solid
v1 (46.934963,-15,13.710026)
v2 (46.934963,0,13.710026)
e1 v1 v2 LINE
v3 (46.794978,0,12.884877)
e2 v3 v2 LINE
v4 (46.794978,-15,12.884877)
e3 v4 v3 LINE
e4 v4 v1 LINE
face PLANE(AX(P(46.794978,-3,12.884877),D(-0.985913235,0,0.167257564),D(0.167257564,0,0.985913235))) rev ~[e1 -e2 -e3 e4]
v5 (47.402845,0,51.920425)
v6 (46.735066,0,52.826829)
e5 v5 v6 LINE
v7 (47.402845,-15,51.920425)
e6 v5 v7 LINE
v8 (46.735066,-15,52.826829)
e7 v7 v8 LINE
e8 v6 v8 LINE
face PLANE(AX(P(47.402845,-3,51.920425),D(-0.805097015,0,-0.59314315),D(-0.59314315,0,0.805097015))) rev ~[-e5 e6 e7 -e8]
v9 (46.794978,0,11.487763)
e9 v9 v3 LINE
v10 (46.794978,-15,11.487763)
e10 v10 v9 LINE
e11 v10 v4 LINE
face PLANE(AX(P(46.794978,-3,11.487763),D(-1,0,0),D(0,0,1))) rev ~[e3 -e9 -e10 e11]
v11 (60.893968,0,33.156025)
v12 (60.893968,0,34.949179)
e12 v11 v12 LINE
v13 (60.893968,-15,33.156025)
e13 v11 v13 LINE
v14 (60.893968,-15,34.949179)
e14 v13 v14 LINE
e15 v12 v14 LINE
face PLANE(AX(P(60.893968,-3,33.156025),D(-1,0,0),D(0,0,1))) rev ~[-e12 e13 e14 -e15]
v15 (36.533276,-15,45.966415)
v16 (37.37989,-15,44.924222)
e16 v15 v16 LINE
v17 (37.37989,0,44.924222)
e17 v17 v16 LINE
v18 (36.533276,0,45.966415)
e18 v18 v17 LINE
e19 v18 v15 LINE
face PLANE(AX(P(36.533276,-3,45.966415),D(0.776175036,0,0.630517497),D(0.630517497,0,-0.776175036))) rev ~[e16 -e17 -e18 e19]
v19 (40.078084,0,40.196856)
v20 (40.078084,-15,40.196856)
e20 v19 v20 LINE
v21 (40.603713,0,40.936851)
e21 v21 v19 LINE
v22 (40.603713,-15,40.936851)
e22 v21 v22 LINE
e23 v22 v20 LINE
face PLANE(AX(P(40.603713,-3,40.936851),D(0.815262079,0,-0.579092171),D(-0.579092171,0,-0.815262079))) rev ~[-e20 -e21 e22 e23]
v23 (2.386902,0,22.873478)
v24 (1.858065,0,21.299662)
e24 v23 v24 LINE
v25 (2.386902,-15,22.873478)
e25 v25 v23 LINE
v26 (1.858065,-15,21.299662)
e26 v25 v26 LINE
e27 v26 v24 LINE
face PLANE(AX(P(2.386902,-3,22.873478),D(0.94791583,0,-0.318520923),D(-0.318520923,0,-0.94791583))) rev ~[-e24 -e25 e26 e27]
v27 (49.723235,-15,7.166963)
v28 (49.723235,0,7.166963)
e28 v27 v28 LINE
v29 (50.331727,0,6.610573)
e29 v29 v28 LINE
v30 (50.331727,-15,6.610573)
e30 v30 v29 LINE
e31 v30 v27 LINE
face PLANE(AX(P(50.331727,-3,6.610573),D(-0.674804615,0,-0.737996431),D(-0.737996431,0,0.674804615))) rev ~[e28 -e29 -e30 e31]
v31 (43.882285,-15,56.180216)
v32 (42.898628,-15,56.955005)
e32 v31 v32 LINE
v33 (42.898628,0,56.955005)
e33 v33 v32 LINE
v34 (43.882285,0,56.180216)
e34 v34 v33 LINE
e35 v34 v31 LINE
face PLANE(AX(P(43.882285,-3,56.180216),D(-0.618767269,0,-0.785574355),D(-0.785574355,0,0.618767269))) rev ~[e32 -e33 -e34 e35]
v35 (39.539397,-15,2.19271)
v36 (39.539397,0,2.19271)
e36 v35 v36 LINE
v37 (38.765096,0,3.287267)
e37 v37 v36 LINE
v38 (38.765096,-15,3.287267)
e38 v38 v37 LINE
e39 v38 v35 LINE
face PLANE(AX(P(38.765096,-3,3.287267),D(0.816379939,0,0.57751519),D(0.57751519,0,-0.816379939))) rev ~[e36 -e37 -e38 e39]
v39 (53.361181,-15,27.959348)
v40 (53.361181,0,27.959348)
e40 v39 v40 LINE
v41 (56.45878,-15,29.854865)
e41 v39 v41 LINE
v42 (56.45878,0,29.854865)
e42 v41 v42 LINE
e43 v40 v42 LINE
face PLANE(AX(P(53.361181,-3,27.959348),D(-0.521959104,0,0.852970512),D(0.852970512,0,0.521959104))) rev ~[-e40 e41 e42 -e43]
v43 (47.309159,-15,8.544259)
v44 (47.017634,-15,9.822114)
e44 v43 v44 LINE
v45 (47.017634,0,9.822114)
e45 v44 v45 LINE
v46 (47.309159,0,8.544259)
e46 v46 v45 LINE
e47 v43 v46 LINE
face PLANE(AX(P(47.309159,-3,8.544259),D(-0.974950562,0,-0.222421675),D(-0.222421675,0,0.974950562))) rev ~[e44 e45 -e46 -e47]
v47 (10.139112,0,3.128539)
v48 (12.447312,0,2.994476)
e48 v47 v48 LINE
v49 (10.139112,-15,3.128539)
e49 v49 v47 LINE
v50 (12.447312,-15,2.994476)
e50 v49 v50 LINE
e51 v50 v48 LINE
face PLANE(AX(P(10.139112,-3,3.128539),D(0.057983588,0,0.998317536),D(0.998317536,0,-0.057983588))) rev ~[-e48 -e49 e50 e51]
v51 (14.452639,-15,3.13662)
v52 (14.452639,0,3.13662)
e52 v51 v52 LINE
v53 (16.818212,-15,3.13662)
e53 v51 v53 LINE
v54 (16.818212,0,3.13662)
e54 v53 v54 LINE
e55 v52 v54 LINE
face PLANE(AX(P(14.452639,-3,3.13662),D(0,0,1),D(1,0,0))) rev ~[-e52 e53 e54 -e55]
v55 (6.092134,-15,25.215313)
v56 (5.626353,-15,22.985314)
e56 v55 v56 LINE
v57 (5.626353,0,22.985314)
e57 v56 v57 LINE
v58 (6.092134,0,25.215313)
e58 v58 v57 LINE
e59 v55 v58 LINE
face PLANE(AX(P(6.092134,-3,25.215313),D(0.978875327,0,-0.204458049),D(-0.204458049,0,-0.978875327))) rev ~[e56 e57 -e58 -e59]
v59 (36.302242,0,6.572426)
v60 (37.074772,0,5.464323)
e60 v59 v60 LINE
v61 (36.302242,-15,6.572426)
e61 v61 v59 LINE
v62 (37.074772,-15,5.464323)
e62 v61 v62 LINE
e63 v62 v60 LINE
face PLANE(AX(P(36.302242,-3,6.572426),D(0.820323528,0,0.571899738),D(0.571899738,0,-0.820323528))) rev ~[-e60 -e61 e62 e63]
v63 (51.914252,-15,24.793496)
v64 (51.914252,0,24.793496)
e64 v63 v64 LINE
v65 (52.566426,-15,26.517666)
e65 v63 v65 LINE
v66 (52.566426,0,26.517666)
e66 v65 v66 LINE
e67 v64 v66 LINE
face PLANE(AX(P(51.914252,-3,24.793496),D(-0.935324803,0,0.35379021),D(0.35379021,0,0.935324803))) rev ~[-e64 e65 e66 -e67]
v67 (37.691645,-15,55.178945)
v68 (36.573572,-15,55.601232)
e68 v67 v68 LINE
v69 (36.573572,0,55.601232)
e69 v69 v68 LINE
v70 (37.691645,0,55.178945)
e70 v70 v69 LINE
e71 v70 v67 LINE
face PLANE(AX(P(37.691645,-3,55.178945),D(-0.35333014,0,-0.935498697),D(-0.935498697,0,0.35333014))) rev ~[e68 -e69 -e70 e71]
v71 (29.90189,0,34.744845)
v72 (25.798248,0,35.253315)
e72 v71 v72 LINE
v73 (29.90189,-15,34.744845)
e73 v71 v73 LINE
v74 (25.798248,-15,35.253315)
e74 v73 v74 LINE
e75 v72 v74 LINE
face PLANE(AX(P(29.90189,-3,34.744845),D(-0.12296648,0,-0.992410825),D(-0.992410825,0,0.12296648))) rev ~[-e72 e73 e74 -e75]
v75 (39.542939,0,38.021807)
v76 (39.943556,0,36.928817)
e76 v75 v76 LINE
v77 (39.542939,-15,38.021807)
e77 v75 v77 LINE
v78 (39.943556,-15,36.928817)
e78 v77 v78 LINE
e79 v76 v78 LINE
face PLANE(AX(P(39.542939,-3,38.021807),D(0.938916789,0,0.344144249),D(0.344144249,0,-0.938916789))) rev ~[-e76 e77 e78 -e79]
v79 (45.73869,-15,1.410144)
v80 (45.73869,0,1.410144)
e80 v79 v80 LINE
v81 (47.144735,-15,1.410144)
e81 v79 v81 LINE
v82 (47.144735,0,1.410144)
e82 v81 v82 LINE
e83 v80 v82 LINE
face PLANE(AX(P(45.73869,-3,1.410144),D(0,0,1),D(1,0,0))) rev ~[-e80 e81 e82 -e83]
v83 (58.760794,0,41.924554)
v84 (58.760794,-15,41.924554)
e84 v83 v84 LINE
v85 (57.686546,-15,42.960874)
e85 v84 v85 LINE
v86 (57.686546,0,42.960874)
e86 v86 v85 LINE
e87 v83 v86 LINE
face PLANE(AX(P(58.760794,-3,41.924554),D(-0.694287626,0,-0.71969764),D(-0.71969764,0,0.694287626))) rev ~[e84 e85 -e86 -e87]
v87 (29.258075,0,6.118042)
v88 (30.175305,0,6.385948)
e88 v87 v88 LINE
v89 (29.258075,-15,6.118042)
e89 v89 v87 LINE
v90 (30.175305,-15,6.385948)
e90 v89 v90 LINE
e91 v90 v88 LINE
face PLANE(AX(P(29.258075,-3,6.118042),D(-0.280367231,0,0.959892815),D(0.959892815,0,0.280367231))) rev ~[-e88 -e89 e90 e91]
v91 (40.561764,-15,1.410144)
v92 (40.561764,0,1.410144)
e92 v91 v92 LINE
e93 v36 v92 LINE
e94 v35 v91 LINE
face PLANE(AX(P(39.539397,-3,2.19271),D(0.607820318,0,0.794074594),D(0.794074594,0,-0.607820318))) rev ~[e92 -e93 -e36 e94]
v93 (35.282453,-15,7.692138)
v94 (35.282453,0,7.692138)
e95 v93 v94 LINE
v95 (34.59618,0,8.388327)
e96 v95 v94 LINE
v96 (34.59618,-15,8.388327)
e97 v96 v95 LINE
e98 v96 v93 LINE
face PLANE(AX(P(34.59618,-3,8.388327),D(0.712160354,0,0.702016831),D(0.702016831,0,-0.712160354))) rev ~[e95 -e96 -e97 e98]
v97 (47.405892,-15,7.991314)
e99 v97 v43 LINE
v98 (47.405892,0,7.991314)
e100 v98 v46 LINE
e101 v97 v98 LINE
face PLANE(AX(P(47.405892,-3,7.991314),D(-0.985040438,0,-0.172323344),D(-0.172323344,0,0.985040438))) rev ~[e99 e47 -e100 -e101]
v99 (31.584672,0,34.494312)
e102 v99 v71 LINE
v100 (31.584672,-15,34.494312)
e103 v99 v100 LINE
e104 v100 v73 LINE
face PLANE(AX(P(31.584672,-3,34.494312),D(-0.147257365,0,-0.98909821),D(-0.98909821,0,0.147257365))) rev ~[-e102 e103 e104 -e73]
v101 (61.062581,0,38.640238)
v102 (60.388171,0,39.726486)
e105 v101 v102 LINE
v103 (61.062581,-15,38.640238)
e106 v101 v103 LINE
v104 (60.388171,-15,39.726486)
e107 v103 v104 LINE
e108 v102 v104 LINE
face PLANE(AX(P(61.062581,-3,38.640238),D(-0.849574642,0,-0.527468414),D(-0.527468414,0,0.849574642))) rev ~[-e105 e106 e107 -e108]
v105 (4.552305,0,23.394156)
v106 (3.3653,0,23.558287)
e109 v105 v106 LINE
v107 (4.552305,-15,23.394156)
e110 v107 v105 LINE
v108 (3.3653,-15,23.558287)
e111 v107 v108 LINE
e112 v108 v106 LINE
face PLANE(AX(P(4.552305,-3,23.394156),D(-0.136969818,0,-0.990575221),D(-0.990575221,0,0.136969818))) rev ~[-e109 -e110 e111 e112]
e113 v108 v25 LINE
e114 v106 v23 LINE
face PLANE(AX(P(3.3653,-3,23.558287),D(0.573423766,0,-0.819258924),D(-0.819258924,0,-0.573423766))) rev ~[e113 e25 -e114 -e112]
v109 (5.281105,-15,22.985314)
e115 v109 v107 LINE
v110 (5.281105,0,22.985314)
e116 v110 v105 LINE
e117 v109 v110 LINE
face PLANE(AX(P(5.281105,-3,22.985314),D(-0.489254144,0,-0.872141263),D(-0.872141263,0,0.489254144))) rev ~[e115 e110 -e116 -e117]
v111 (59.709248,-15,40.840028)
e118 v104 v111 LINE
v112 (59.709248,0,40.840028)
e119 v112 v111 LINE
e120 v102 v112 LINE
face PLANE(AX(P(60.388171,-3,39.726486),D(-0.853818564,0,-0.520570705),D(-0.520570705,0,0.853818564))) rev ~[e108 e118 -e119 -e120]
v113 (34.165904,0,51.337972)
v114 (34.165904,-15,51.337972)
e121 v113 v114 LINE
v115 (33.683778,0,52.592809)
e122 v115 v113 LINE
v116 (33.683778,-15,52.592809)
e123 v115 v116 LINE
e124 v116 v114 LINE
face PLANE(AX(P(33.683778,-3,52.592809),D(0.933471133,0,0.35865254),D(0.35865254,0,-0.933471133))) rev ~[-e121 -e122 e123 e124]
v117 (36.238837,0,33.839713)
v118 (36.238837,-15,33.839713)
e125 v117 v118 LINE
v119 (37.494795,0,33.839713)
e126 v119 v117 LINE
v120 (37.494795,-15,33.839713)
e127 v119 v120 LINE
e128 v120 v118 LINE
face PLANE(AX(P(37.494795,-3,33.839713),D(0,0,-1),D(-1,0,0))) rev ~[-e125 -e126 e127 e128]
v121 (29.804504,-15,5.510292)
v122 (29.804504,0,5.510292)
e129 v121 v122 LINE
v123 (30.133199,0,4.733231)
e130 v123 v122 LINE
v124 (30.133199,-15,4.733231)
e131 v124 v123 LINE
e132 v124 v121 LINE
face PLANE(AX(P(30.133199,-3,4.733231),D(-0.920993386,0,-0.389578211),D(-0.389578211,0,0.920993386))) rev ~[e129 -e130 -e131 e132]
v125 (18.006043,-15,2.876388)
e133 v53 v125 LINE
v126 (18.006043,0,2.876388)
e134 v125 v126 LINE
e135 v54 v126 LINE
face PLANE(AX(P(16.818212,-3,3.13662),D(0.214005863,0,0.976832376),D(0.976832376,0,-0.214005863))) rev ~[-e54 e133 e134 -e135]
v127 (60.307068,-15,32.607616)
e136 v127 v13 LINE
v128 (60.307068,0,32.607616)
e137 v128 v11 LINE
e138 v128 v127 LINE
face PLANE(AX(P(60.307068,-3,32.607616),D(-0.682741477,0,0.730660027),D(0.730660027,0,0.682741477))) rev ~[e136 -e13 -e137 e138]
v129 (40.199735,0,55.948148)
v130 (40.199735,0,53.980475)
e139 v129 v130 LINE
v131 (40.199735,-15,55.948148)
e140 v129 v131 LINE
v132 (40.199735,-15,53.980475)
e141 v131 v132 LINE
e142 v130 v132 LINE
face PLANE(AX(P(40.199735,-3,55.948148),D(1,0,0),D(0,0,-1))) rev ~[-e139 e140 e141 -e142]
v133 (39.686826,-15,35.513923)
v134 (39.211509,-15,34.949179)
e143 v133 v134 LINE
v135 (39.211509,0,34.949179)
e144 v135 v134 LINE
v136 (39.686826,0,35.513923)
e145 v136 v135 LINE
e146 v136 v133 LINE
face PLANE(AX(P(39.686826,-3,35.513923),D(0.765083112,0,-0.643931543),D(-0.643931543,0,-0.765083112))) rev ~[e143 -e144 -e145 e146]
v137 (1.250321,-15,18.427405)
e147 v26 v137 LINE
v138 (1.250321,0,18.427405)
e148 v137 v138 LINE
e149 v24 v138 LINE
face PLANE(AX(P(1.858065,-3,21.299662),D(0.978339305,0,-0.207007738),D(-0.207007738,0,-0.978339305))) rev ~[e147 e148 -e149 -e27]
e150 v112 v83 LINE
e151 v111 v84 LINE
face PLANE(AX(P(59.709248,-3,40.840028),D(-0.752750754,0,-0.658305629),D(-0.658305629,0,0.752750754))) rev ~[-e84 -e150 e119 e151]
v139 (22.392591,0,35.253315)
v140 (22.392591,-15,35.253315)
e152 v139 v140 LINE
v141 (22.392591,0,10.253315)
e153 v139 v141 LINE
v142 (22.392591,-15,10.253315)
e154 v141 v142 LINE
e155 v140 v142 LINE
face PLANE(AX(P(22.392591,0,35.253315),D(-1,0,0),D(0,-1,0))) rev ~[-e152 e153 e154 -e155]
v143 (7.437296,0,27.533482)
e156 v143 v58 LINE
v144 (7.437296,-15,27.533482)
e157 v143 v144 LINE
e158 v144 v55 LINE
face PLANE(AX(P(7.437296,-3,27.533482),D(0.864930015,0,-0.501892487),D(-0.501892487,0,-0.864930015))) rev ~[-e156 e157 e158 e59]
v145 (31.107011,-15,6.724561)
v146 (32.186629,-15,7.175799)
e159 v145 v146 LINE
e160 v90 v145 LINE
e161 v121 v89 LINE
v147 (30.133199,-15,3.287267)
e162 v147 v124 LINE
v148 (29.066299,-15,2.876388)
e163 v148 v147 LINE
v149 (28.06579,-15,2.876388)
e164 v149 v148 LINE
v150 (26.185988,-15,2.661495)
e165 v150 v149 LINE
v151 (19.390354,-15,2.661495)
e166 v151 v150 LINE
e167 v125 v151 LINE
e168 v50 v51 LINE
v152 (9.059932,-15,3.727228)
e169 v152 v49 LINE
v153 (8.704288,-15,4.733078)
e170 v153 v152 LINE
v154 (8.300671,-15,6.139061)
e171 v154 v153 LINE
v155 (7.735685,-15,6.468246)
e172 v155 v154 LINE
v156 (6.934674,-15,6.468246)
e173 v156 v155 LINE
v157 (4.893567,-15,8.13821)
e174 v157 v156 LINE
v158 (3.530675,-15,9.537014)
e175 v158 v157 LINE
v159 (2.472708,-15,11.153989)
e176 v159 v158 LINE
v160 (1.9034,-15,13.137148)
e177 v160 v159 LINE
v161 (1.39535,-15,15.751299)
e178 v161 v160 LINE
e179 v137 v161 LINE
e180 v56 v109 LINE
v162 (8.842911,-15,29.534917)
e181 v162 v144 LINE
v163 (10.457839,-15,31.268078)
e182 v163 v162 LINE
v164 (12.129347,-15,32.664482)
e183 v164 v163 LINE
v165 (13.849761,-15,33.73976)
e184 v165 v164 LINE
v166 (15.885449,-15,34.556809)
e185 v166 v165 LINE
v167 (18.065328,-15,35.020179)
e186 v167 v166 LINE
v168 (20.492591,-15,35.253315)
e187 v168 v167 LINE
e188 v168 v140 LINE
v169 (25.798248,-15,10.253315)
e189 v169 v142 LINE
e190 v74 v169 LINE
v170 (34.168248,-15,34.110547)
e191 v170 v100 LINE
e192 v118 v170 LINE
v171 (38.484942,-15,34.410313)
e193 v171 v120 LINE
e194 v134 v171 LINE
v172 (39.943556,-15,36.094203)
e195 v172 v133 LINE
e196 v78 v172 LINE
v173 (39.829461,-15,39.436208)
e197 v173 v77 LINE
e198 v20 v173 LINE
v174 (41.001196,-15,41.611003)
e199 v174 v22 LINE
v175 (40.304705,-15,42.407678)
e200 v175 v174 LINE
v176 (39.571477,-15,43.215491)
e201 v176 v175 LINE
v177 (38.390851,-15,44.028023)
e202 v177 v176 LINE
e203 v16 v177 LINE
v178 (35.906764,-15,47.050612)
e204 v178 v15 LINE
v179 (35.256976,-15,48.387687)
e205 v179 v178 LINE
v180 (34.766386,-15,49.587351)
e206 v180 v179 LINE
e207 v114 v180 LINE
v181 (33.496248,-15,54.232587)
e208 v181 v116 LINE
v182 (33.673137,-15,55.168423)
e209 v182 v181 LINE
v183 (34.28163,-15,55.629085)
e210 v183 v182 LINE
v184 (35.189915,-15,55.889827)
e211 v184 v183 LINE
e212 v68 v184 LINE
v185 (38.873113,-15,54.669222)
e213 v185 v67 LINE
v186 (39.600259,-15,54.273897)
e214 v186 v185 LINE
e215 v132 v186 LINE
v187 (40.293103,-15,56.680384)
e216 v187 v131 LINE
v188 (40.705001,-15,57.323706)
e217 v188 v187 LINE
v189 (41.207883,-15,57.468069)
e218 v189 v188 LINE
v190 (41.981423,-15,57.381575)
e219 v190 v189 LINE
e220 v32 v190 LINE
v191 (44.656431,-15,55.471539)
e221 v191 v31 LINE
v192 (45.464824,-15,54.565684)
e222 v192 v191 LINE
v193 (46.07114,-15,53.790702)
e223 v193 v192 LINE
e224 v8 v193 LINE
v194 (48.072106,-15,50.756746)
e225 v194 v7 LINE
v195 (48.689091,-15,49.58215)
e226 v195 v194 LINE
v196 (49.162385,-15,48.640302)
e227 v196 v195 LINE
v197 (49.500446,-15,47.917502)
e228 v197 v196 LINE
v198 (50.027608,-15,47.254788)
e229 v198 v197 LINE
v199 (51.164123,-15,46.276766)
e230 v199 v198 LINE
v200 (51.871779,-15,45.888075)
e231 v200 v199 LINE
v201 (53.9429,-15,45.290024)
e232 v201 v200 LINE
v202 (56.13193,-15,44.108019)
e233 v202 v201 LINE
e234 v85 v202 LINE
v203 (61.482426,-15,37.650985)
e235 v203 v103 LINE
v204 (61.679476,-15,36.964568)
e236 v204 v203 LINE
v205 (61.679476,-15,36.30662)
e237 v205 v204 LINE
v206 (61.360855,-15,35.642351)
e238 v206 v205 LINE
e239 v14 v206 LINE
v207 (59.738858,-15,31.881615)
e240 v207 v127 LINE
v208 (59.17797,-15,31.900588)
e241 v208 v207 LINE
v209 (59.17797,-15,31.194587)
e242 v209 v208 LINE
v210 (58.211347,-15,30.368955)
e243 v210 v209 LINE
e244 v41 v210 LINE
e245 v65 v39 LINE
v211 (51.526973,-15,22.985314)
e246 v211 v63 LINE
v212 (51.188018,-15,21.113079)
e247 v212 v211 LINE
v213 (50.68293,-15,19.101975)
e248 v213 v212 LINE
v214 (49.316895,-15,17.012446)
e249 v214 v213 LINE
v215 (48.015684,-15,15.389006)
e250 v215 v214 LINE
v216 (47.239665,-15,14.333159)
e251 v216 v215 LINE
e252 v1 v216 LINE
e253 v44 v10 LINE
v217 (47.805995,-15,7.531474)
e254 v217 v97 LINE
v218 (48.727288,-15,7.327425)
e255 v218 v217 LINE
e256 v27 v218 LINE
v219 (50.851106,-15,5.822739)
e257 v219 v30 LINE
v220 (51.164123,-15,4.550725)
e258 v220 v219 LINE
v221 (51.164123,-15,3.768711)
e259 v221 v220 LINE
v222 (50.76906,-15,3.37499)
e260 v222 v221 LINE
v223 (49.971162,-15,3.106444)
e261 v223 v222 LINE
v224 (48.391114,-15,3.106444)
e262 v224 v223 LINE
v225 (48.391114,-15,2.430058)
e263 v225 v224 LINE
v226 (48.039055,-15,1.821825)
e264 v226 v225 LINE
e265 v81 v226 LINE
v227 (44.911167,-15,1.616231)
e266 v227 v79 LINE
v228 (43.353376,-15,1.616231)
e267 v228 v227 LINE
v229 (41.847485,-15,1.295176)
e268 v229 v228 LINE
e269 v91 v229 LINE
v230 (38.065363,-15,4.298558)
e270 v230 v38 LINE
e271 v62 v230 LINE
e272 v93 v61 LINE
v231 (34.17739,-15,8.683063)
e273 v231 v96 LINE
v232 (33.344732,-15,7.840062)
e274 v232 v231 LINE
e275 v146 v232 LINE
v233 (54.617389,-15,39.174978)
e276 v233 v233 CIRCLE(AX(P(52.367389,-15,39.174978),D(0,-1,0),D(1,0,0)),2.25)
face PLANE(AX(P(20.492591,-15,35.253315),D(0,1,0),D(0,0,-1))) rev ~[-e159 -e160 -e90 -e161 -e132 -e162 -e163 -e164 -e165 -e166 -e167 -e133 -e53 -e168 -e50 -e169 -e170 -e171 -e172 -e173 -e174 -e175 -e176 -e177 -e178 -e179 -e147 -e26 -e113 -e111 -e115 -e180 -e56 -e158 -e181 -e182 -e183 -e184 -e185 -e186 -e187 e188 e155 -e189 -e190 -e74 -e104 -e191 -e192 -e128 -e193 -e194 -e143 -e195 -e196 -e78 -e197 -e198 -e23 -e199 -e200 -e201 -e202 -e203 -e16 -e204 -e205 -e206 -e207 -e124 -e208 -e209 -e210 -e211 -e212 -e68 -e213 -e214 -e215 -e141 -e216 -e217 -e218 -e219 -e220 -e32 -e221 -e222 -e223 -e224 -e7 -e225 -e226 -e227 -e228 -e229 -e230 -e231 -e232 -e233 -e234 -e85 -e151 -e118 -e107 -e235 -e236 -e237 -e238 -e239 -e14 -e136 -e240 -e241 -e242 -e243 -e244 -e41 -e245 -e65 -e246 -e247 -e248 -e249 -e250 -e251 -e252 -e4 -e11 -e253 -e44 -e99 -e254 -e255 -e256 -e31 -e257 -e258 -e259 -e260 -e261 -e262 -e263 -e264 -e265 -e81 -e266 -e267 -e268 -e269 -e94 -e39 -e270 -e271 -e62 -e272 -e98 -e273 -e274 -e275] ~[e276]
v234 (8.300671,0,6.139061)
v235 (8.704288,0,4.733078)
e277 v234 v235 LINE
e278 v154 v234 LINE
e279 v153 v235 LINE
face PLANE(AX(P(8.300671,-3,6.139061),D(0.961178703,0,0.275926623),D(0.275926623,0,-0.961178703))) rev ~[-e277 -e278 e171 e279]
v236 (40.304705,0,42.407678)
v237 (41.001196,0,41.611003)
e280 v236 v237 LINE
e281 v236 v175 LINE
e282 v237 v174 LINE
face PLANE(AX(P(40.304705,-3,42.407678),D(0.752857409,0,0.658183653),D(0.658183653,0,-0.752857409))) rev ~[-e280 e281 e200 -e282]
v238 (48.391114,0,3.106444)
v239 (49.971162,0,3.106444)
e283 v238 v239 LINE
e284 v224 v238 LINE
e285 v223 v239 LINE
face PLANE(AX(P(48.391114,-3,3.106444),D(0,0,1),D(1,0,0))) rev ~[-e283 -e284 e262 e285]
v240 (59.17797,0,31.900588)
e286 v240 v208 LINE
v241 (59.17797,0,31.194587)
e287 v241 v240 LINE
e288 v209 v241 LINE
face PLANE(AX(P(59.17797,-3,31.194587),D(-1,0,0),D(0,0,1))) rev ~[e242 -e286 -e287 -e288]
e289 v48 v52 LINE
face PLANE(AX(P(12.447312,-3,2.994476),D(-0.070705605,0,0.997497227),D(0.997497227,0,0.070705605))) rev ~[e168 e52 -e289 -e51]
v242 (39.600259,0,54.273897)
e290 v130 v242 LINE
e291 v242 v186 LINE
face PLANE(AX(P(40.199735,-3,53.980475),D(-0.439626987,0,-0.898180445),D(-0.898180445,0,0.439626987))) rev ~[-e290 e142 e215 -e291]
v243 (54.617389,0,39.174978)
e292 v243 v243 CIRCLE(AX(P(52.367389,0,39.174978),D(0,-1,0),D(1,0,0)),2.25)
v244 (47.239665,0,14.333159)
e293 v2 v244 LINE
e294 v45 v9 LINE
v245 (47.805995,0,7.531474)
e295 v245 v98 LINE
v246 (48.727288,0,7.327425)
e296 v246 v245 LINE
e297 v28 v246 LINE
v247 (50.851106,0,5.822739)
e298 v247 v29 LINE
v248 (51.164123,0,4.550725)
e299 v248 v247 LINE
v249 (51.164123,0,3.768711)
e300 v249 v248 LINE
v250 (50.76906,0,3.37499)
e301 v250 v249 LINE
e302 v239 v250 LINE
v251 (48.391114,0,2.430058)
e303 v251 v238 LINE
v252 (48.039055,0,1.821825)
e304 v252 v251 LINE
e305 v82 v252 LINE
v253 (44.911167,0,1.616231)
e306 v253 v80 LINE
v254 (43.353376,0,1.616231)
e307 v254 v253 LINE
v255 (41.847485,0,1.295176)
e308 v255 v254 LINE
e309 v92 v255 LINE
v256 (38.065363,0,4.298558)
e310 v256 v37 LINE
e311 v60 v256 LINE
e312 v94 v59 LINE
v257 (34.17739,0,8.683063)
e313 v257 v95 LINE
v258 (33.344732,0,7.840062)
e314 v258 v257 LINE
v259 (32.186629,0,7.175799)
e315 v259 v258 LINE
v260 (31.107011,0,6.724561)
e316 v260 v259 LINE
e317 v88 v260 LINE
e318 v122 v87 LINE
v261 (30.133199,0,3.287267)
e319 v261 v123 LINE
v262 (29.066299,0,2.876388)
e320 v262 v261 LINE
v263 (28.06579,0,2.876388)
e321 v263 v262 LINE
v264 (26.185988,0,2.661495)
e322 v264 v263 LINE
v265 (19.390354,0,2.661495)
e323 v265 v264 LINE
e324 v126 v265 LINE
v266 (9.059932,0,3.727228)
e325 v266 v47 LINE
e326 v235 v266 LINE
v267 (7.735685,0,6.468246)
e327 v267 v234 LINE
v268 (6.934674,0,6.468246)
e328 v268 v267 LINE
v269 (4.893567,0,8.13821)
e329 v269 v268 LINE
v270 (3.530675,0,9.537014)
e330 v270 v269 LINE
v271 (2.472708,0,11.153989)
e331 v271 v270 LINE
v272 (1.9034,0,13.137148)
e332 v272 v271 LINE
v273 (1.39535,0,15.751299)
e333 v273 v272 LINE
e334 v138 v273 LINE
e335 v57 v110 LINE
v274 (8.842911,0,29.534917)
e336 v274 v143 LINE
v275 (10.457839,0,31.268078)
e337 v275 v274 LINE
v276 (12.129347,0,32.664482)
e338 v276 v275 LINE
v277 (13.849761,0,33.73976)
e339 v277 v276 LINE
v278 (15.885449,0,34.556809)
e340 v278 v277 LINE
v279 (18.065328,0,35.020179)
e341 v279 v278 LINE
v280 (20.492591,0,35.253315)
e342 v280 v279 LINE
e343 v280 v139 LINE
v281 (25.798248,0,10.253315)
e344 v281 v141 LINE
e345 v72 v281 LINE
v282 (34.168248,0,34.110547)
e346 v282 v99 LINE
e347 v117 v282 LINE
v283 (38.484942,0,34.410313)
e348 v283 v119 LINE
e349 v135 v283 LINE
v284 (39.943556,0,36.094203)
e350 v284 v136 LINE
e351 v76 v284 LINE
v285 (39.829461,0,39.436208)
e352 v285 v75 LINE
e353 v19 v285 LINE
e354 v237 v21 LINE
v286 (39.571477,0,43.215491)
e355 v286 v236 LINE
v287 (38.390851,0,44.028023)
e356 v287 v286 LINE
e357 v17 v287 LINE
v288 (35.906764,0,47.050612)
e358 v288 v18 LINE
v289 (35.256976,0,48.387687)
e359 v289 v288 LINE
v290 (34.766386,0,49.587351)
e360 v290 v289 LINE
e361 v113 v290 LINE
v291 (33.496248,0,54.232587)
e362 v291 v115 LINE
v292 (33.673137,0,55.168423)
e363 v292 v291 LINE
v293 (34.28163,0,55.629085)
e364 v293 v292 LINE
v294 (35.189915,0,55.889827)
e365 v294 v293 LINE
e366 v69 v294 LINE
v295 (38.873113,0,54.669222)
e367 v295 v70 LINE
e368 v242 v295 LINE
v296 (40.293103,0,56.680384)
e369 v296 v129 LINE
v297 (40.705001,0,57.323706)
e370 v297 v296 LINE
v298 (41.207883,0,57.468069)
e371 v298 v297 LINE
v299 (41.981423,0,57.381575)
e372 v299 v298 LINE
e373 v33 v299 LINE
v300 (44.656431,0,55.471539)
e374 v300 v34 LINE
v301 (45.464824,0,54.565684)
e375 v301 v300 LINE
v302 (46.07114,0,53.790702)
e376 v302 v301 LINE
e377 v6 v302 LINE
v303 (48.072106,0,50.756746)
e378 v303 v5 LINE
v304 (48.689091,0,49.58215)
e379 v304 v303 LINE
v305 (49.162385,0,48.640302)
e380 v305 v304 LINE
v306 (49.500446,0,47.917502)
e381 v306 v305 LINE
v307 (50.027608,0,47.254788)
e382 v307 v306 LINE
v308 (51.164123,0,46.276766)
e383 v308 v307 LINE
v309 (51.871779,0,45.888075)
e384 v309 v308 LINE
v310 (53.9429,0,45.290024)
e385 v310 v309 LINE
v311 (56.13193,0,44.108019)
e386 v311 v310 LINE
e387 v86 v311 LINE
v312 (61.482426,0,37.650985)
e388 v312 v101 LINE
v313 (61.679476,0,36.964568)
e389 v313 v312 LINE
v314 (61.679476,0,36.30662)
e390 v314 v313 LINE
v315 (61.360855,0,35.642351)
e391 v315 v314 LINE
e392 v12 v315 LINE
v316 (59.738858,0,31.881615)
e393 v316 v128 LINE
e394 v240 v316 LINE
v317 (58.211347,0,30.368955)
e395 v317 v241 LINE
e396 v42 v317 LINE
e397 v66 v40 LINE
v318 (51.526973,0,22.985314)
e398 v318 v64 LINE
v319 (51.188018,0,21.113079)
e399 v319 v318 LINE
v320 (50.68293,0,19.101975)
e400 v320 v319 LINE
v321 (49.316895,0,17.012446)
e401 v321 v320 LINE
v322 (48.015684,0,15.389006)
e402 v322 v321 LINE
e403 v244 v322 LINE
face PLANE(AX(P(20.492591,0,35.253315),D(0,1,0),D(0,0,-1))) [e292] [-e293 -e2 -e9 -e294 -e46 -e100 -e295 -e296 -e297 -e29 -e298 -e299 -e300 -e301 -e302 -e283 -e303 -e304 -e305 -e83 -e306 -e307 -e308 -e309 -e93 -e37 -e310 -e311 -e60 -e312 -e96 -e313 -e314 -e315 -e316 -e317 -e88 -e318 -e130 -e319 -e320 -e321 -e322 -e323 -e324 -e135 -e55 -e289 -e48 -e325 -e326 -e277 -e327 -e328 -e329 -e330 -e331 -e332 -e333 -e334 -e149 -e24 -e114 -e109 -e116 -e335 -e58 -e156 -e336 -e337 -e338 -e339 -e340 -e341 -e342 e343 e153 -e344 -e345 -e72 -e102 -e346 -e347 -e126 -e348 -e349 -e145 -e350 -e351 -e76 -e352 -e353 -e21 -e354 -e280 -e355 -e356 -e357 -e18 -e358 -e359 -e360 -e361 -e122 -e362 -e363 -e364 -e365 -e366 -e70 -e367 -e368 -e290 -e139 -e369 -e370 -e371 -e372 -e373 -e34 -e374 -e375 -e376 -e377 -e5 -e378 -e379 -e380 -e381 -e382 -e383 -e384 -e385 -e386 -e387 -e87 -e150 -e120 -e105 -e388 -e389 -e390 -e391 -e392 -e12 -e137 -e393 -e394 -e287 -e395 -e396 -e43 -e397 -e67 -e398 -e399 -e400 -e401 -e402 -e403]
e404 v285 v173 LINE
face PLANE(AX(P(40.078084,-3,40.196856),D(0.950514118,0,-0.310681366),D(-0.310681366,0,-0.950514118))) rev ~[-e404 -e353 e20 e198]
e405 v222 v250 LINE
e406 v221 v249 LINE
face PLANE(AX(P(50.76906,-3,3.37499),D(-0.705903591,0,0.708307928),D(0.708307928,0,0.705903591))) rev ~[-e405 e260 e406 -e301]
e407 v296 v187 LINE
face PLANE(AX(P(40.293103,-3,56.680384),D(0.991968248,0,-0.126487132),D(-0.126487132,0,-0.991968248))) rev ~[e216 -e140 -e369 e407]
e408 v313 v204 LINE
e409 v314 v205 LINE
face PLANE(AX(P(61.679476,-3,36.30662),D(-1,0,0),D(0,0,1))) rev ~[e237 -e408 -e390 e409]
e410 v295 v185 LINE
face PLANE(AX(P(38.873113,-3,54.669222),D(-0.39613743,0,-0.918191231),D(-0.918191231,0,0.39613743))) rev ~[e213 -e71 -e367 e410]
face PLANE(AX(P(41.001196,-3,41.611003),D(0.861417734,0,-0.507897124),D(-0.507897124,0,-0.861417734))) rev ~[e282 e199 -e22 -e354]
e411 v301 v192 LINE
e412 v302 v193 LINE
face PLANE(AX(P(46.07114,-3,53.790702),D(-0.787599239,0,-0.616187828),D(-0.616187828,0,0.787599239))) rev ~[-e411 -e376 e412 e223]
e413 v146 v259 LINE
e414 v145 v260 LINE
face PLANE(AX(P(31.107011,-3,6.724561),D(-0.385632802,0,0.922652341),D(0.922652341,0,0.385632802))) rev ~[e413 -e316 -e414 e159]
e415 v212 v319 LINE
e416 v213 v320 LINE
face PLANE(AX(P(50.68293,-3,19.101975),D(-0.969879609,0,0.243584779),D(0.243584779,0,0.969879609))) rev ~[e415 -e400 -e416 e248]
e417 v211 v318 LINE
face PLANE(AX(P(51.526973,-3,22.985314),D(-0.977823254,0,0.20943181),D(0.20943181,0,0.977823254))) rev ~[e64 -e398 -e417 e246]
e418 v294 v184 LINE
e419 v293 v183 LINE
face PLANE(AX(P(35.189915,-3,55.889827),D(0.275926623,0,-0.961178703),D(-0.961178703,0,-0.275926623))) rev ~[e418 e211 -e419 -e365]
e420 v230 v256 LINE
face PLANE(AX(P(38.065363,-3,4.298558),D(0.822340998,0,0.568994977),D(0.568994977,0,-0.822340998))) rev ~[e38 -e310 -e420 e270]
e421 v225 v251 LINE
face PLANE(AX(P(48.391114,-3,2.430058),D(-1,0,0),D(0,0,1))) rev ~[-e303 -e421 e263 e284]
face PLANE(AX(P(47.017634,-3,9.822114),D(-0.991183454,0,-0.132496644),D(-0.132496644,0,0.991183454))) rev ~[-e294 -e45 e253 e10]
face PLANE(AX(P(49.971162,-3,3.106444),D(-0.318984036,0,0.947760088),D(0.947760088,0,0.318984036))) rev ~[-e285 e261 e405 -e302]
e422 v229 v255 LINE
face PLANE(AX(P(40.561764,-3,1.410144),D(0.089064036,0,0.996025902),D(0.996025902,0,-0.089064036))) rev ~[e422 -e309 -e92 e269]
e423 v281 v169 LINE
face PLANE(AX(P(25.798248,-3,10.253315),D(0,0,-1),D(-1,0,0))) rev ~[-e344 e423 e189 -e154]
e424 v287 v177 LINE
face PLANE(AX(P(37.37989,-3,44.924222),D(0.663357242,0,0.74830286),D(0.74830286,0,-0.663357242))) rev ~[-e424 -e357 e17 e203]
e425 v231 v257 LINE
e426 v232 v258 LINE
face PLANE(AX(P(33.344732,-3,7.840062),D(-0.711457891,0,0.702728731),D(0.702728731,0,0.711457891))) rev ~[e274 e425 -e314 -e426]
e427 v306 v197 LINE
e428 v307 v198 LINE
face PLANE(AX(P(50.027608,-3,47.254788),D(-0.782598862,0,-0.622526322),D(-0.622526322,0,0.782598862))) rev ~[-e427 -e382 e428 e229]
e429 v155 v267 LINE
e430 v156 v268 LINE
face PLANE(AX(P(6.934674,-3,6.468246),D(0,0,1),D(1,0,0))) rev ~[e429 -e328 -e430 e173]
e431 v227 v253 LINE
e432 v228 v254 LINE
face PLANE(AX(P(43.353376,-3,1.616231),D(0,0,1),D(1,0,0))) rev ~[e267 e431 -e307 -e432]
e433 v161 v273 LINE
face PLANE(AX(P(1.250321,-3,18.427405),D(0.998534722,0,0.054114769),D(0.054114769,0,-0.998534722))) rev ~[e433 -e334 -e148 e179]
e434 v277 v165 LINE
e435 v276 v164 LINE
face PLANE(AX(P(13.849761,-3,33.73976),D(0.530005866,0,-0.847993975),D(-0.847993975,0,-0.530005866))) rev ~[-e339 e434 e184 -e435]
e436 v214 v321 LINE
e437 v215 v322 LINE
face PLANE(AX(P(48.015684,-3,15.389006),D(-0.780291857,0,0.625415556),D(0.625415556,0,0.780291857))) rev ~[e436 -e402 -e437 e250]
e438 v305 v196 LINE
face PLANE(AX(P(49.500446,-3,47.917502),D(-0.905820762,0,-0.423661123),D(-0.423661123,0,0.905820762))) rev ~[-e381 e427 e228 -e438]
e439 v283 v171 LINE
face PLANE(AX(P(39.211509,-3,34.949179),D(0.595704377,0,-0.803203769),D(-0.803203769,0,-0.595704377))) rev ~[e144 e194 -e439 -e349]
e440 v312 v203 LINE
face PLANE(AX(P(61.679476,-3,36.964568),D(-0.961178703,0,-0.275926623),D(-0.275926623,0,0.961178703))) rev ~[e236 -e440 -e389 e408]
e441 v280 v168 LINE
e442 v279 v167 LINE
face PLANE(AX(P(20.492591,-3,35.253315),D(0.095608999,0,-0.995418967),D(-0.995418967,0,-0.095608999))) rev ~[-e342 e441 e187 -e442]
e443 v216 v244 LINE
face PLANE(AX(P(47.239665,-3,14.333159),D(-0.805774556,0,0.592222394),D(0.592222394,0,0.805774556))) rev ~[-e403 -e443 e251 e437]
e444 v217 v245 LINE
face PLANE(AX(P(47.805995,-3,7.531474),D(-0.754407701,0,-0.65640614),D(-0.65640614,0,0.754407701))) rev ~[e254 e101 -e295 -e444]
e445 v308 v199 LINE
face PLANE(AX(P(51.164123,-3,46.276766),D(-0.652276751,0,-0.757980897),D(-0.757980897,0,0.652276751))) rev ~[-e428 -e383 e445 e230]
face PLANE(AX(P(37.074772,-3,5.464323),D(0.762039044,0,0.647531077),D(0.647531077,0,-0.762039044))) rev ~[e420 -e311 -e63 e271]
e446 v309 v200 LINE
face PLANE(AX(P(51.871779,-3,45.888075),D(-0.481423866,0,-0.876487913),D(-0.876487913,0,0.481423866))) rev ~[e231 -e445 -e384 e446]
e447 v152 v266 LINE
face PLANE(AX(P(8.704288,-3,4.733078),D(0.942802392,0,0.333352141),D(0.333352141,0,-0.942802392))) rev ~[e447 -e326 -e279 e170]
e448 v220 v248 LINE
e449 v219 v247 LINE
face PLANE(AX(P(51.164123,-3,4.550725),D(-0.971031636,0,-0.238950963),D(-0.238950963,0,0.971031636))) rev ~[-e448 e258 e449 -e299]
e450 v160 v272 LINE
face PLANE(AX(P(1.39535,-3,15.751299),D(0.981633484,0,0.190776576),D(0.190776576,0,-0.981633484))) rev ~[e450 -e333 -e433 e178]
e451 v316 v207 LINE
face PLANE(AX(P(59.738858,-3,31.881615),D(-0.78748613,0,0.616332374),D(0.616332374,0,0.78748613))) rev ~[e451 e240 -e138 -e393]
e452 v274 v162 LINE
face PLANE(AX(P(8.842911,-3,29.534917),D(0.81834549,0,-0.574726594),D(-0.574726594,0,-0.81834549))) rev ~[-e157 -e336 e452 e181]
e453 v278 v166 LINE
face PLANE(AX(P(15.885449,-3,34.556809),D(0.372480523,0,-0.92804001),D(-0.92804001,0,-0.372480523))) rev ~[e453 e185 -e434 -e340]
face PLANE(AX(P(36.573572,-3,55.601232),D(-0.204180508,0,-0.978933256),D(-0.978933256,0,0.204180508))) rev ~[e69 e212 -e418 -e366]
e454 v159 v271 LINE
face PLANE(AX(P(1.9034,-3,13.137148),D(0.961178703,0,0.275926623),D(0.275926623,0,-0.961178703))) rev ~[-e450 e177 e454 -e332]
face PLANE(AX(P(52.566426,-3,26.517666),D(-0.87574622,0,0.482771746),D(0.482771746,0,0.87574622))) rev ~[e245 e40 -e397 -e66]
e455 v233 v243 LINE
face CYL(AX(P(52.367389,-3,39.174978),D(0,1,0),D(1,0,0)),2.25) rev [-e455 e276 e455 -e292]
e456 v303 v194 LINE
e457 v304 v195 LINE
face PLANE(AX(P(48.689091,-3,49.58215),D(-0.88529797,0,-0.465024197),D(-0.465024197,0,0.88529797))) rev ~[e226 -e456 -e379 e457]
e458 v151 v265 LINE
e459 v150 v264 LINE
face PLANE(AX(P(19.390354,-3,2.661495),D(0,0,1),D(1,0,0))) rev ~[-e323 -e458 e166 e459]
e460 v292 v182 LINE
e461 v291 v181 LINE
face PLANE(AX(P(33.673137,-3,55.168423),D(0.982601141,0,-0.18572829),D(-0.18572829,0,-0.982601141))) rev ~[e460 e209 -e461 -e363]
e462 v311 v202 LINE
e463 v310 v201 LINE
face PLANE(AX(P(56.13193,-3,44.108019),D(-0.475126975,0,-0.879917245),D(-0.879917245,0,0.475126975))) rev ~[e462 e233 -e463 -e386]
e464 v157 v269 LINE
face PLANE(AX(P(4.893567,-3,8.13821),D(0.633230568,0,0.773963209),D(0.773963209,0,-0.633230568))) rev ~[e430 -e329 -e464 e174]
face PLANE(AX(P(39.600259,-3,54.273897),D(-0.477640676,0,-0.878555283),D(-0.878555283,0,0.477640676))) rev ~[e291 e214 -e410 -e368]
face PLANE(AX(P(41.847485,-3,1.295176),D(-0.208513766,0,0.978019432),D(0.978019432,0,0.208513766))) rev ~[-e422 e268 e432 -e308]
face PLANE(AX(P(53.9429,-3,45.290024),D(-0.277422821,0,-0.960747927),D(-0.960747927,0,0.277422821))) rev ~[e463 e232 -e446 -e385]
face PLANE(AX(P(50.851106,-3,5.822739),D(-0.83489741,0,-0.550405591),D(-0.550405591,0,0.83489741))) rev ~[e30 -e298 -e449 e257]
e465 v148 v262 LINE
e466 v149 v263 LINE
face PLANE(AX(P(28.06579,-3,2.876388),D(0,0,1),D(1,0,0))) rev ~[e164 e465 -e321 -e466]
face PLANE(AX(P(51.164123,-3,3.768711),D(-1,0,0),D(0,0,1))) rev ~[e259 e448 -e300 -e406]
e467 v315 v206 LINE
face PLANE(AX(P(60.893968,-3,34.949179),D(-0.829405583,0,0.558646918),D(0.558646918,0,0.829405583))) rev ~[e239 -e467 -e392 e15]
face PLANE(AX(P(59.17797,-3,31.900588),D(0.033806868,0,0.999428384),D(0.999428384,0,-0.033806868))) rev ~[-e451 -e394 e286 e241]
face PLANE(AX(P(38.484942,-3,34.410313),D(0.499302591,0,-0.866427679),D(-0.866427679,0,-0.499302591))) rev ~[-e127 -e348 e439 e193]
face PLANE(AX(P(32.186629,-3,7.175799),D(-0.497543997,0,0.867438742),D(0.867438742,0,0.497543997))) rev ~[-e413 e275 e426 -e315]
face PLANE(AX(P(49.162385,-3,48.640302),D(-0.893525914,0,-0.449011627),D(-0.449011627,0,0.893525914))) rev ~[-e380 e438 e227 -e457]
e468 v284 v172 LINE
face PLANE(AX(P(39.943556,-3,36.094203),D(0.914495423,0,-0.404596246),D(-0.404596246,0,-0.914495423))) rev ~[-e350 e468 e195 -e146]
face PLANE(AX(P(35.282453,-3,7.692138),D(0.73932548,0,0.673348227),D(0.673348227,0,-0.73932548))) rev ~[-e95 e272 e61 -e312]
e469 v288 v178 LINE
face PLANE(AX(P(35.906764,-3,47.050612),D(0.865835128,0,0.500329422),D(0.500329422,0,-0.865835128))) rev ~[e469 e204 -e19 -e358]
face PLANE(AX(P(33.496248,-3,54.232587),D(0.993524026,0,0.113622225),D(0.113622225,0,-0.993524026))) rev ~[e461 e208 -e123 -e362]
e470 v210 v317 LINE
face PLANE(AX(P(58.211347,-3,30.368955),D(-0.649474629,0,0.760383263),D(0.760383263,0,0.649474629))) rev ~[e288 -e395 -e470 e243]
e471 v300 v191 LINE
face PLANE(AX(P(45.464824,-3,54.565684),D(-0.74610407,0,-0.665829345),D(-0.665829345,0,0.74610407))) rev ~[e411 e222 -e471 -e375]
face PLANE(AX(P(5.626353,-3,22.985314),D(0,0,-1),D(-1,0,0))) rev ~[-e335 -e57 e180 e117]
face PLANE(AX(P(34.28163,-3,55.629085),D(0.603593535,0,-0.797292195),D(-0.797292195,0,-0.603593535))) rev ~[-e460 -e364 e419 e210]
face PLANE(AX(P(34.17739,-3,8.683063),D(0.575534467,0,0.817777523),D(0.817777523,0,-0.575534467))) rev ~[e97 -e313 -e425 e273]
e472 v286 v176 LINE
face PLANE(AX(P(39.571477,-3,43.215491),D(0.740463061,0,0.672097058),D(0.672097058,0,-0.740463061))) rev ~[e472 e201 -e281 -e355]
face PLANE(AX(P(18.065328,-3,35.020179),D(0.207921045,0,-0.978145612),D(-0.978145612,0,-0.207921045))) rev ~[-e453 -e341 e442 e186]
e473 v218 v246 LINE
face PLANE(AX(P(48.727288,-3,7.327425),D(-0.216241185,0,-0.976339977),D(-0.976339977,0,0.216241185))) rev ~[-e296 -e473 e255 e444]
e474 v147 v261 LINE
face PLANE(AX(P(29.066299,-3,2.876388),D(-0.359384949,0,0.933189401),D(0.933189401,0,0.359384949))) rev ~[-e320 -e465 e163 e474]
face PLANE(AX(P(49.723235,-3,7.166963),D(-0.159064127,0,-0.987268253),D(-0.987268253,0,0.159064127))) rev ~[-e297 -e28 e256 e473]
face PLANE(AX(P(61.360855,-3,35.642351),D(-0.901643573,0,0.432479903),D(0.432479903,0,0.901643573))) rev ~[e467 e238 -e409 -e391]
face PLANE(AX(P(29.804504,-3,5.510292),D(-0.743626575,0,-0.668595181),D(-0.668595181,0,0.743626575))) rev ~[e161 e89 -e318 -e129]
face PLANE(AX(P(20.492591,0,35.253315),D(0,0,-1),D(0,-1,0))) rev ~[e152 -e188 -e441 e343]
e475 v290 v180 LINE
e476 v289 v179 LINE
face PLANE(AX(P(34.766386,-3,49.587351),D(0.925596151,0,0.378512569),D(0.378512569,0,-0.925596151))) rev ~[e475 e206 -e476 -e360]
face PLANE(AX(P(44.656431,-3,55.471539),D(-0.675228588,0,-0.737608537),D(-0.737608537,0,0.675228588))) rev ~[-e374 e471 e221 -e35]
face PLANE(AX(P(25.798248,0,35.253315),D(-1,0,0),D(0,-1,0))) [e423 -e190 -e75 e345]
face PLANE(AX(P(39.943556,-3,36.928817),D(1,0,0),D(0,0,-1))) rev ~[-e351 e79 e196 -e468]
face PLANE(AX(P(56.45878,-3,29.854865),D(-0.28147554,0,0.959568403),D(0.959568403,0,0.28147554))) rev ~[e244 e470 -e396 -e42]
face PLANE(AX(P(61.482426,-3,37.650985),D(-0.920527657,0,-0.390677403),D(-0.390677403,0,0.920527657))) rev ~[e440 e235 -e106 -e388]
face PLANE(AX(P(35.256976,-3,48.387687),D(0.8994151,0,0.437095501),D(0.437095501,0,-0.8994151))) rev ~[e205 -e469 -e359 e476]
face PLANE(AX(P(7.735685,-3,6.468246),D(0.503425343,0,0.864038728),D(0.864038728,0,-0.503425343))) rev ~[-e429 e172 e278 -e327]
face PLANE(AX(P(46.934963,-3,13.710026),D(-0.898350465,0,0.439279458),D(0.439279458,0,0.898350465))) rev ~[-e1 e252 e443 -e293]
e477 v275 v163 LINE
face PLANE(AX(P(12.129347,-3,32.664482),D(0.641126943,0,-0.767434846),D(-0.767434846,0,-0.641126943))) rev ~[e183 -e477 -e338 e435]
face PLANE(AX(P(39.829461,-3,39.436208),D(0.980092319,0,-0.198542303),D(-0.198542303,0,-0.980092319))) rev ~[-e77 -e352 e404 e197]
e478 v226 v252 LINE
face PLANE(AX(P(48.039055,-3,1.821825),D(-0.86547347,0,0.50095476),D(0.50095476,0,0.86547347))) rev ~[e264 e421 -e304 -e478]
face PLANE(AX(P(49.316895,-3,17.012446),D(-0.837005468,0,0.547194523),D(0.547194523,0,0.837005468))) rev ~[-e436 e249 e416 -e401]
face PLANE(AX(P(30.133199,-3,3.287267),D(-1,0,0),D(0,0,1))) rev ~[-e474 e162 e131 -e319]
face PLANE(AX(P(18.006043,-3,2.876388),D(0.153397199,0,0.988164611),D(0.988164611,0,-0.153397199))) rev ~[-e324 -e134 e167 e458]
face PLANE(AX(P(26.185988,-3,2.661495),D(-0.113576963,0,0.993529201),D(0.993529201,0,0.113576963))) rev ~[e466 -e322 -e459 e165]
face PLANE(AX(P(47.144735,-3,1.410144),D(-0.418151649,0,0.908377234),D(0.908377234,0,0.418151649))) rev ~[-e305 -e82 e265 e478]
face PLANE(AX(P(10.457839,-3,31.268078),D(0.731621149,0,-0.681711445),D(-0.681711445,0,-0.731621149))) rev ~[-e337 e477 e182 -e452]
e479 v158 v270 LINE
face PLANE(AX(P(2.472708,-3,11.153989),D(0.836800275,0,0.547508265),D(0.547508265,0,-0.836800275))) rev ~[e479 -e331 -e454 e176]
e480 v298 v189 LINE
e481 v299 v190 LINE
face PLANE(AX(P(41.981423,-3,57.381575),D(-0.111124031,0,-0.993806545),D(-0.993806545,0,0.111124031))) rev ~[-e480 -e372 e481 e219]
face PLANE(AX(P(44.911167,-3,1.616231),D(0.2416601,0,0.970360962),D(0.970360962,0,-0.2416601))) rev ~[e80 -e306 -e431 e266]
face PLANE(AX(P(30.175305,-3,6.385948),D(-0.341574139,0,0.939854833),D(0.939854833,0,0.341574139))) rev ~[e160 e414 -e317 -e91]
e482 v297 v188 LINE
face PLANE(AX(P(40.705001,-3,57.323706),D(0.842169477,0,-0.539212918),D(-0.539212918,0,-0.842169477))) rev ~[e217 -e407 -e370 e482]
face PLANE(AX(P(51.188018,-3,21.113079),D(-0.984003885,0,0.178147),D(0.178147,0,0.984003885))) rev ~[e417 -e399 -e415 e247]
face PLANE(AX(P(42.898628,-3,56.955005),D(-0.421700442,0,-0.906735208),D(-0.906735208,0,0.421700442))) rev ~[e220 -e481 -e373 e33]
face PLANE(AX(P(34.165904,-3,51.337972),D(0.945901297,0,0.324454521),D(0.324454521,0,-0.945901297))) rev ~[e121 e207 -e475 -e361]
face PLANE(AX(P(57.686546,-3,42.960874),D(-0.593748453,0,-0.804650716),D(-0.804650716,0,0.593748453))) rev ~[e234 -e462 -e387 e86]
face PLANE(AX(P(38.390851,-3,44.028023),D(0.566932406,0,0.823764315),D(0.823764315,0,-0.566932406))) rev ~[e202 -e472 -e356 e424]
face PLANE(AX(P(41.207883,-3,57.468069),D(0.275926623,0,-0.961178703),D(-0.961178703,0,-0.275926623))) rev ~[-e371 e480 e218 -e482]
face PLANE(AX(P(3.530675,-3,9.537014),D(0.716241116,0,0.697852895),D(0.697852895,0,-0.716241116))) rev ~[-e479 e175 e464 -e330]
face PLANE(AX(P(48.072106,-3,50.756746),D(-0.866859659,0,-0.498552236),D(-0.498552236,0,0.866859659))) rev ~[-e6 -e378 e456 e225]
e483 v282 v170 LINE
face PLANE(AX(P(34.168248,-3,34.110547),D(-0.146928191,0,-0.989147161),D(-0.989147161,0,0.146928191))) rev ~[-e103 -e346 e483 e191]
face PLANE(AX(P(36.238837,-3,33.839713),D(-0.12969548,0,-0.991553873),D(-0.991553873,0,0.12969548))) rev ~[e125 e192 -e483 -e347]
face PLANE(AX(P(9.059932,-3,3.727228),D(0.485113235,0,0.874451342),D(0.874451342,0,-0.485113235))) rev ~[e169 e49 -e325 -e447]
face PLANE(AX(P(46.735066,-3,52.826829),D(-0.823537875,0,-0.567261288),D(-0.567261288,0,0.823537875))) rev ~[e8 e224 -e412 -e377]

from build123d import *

# Parameters (mm, degrees)
F0_R     = 2.25
F1_DEPTH = 3
F2_DEPTH = 12
F3_DEPTH = 25
F4_DEPTH = 1.9
F5_R     = 1.0323234766
F6_DEPTH = 2


with BuildPart() as f1:
    # F0 (on Front) → F1 (new body)
    with BuildSketch(Plane.XZ):
        Polygon((59.1779698418, 31.194587481), (59.1779698418, 31.9005881237), (59.7388577371, 31.8816154154), (60.3070678192, 32.6076158289), (60.8939676434, 33.1560252645), (60.8939676434, 33.94444243), (60.8939676434, 34.9491785137), (61.3608548692, 35.6423513558), (61.6794760284, 36.3066197257), (61.6794760284, 36.964568034), (61.4824255283, 37.650985105), (61.0625805582, 38.6402383967), (60.3881708198, 39.7264862101), (59.7092475961, 40.8400280338), (58.7607938368, 41.9245535961), (57.6865458859, 42.9608735974), (56.131929641, 44.1080185295), (53.9428997059, 45.2900241974), (51.8717793367, 45.8880749855), (51.1641228177, 46.2767657275), (50.0276083315, 47.254787707), (49.500445814, 47.9175015095), (49.1623850594, 48.6403019596), (48.6890909202, 49.5821496811), (48.0721058512, 50.756745827), (47.4028453988, 51.9204250674), (46.7350661522, 52.8268286536), (46.0711401365, 53.7907023235), (45.4648239409, 54.5656838351), (44.6564314585, 55.4715389559), (43.8822848719, 56.1802155505), (42.8986280226, 56.9550049245), (41.9814228134, 57.3815747084), (41.2078828484, 57.4680692876), (40.7050007603, 57.323706376), (40.2931032973, 56.6803844909), (40.199734935, 55.9481483411), (40.199734935, 53.9804748212), (39.6002588357, 54.273896786), (38.8731125838, 54.6692215131), (37.691644901, 55.1789449292), (36.5735721249, 55.6012317928), (35.1899154237, 55.8898272879), (34.2816298321, 55.6290847487), (33.6731372422, 55.1684227791), (33.4962484397, 54.2325872158), (33.6837781683, 52.5928086281), (34.1659036474, 51.3379723538), (34.7663858487, 49.5873513683), (35.2569758596, 48.3876865141), (35.9067640461, 47.0506118809), (36.5332756434, 45.9664146991), (37.3798895218, 44.924222276), (38.3908508618, 44.0280229397), (39.5714766328, 43.2154907668), (40.3047049111, 42.4076781904), (41.0011964924, 41.6110026044), (40.6037128381, 40.9368513783), (40.0780839274, 40.1968563654), (39.8294614492, 39.436208314), (39.5429389686, 38.0218070561), (39.9435562115, 36.928816962), (39.9435562115, 36.0942029461), (39.6868255292, 35.5139231333), (39.2115087057, 34.9491785137), (38.4849423599, 34.4103130735), (37.4947947552, 33.8397134992), (36.2388370964, 33.8397134992), (34.1682477254, 34.1105470766), (31.5846720936, 34.4943121109), (29.9018896319, 34.7448454842), (25.7982475776, 35.2533147662), (22.9338105357, 35.2533147662), (20.4925913511, 35.2533147662), (18.0653283384, 35.0201785734), (15.8854493902, 34.5568092112), (13.8497609292, 33.7397600595), (12.1293465844, 32.6644815528), (10.4578391027, 31.2680783419), (8.8429108853, 29.5349174183), (7.4372964263, 27.5334818399), (6.0921336762, 25.2153127735), (5.626352988, 22.9853138756), (5.2811054162, 22.9853138756), (4.5523054715, 23.3941563518), (3.3652996425, 23.5582872219), (2.3869021215, 22.8734776027), (1.8580647324, 21.2996615779), (1.2503211514, 18.4274045382), (1.3953504937, 15.7512989625), (1.9034004358, 13.1371476651), (2.4727079067, 11.1539892033), (3.5306752582, 9.5370138477), (4.8935674994, 8.138209791), (6.9346738022, 6.4682455231), (7.7356851464, 6.4682455231), (8.3006708113, 6.139061086), (8.7042880198, 4.7330776356), (9.059931979, 3.7272284641), (10.1391117511, 3.1285394737), (12.4473123728, 2.994476163), (14.4526387363, 3.1366197305), (16.8182124996, 3.1366197305), (18.0060434283, 2.8763879966), (19.3903542013, 2.6614952628), (21.883129127, 2.6614952628), (23.7435637012, 2.6614952628), (26.1859881122, 2.6614952628), (28.06579015, 2.8763879966), (29.066299208, 2.8763879966), (30.1331987714, 3.287266694), (30.1331987714, 3.5115652152), (30.1331987714, 4.0722664313), (30.1331987714, 4.7332313456), (29.8045038484, 5.5102918726), (29.2580751761, 6.1180421129), (30.1753048391, 6.385948213), (31.1070111921, 6.7245609263), (32.1866285138, 7.1757989864), (33.3447322722, 7.8400621162), (34.1773899787, 8.6830629355), (34.5961799391, 8.3883274486), (35.2824532969, 7.6921380472), (36.3022424833, 6.5724259885), (37.0747716212, 5.4643229671), (38.0653628889, 4.2985577244), (38.7650963545, 3.287266694), (39.5393966511, 2.1927098055), (40.5617639739, 1.4101439923), (41.8474854837, 1.29517555), (43.3533756495, 1.6162313684), (44.9111674038, 1.6162313684), (45.7386897979, 1.4101439923), (47.1447348197, 1.4101439923), (48.0390547016, 1.8218246455), (48.391113549, 2.4300583955), (48.391113549, 3.1064440938), (49.9711618169, 3.1064440938), (50.7690600963, 3.3749897061), (51.1641228177, 3.7687113949), (51.1641228177, 4.5507251402), (50.8511063176, 5.8227389469), (50.331727117, 6.6105731496), (49.7232345272, 7.1669628431), (48.7272878623, 7.3274251963), (47.8059953638, 7.5314743863), (47.4058916521, 7.9913136579), (47.3091591362, 8.5442592861), (47.0176340929, 9.8221136372), (46.7949781293, 11.4877626708), (46.7949781293, 12.8848767905), (46.9349625513, 13.7100262861), (47.2396647362, 14.3331588828), (48.0156837904, 15.3890061712), (49.3168950791, 17.0124460815), (50.682930079, 19.1019749735), (51.1880177404, 21.1130785633), (51.5269728079, 22.9853138756), (51.9142522124, 24.7934957735), (52.5664263977, 26.5176664071), (53.3611806084, 27.9593477017), (56.4587800437, 29.8548648433), (58.2113468584, 30.3689550216), align=None)
        with Locations((52.3673893774, 39.17497812)):
            Circle(F0_R, mode=Mode.SUBTRACT)
    extrude(amount=F1_DEPTH)

    # F2 (add): a face of the model
    f2_faces = [f1.faces().sort_by_distance(p)[0] for p in [
        (31.8904414267, -3, 24.0565595855),
    ]]
    extrude(f2_faces, amount=F2_DEPTH)

    # F3 (cut): a face of the model
    f3_faces = [f1.faces().sort_by_distance(p)[0] for p in [
        (23.1454194643, -7.5, 35.2533147662),
    ]]
    extrude(f3_faces, amount=-F3_DEPTH, mode=Mode.SUBTRACT)

    # F4 (add): a face of the model
    f4_faces = [f1.faces().sort_by_distance(p)[0] for p in [
        (20.4925913511, -7.5, 22.7533147662),
    ]]
    extrude(f4_faces, amount=F4_DEPTH)

    # F5 (on face) → F6 (join)
    with BuildSketch(Plane.XZ.offset(15)):
        with Locations((41.8074317276, 54.3998554349)):
            Circle(F5_R)
    extrude(amount=-F6_DEPTH)


solid = f1.part
